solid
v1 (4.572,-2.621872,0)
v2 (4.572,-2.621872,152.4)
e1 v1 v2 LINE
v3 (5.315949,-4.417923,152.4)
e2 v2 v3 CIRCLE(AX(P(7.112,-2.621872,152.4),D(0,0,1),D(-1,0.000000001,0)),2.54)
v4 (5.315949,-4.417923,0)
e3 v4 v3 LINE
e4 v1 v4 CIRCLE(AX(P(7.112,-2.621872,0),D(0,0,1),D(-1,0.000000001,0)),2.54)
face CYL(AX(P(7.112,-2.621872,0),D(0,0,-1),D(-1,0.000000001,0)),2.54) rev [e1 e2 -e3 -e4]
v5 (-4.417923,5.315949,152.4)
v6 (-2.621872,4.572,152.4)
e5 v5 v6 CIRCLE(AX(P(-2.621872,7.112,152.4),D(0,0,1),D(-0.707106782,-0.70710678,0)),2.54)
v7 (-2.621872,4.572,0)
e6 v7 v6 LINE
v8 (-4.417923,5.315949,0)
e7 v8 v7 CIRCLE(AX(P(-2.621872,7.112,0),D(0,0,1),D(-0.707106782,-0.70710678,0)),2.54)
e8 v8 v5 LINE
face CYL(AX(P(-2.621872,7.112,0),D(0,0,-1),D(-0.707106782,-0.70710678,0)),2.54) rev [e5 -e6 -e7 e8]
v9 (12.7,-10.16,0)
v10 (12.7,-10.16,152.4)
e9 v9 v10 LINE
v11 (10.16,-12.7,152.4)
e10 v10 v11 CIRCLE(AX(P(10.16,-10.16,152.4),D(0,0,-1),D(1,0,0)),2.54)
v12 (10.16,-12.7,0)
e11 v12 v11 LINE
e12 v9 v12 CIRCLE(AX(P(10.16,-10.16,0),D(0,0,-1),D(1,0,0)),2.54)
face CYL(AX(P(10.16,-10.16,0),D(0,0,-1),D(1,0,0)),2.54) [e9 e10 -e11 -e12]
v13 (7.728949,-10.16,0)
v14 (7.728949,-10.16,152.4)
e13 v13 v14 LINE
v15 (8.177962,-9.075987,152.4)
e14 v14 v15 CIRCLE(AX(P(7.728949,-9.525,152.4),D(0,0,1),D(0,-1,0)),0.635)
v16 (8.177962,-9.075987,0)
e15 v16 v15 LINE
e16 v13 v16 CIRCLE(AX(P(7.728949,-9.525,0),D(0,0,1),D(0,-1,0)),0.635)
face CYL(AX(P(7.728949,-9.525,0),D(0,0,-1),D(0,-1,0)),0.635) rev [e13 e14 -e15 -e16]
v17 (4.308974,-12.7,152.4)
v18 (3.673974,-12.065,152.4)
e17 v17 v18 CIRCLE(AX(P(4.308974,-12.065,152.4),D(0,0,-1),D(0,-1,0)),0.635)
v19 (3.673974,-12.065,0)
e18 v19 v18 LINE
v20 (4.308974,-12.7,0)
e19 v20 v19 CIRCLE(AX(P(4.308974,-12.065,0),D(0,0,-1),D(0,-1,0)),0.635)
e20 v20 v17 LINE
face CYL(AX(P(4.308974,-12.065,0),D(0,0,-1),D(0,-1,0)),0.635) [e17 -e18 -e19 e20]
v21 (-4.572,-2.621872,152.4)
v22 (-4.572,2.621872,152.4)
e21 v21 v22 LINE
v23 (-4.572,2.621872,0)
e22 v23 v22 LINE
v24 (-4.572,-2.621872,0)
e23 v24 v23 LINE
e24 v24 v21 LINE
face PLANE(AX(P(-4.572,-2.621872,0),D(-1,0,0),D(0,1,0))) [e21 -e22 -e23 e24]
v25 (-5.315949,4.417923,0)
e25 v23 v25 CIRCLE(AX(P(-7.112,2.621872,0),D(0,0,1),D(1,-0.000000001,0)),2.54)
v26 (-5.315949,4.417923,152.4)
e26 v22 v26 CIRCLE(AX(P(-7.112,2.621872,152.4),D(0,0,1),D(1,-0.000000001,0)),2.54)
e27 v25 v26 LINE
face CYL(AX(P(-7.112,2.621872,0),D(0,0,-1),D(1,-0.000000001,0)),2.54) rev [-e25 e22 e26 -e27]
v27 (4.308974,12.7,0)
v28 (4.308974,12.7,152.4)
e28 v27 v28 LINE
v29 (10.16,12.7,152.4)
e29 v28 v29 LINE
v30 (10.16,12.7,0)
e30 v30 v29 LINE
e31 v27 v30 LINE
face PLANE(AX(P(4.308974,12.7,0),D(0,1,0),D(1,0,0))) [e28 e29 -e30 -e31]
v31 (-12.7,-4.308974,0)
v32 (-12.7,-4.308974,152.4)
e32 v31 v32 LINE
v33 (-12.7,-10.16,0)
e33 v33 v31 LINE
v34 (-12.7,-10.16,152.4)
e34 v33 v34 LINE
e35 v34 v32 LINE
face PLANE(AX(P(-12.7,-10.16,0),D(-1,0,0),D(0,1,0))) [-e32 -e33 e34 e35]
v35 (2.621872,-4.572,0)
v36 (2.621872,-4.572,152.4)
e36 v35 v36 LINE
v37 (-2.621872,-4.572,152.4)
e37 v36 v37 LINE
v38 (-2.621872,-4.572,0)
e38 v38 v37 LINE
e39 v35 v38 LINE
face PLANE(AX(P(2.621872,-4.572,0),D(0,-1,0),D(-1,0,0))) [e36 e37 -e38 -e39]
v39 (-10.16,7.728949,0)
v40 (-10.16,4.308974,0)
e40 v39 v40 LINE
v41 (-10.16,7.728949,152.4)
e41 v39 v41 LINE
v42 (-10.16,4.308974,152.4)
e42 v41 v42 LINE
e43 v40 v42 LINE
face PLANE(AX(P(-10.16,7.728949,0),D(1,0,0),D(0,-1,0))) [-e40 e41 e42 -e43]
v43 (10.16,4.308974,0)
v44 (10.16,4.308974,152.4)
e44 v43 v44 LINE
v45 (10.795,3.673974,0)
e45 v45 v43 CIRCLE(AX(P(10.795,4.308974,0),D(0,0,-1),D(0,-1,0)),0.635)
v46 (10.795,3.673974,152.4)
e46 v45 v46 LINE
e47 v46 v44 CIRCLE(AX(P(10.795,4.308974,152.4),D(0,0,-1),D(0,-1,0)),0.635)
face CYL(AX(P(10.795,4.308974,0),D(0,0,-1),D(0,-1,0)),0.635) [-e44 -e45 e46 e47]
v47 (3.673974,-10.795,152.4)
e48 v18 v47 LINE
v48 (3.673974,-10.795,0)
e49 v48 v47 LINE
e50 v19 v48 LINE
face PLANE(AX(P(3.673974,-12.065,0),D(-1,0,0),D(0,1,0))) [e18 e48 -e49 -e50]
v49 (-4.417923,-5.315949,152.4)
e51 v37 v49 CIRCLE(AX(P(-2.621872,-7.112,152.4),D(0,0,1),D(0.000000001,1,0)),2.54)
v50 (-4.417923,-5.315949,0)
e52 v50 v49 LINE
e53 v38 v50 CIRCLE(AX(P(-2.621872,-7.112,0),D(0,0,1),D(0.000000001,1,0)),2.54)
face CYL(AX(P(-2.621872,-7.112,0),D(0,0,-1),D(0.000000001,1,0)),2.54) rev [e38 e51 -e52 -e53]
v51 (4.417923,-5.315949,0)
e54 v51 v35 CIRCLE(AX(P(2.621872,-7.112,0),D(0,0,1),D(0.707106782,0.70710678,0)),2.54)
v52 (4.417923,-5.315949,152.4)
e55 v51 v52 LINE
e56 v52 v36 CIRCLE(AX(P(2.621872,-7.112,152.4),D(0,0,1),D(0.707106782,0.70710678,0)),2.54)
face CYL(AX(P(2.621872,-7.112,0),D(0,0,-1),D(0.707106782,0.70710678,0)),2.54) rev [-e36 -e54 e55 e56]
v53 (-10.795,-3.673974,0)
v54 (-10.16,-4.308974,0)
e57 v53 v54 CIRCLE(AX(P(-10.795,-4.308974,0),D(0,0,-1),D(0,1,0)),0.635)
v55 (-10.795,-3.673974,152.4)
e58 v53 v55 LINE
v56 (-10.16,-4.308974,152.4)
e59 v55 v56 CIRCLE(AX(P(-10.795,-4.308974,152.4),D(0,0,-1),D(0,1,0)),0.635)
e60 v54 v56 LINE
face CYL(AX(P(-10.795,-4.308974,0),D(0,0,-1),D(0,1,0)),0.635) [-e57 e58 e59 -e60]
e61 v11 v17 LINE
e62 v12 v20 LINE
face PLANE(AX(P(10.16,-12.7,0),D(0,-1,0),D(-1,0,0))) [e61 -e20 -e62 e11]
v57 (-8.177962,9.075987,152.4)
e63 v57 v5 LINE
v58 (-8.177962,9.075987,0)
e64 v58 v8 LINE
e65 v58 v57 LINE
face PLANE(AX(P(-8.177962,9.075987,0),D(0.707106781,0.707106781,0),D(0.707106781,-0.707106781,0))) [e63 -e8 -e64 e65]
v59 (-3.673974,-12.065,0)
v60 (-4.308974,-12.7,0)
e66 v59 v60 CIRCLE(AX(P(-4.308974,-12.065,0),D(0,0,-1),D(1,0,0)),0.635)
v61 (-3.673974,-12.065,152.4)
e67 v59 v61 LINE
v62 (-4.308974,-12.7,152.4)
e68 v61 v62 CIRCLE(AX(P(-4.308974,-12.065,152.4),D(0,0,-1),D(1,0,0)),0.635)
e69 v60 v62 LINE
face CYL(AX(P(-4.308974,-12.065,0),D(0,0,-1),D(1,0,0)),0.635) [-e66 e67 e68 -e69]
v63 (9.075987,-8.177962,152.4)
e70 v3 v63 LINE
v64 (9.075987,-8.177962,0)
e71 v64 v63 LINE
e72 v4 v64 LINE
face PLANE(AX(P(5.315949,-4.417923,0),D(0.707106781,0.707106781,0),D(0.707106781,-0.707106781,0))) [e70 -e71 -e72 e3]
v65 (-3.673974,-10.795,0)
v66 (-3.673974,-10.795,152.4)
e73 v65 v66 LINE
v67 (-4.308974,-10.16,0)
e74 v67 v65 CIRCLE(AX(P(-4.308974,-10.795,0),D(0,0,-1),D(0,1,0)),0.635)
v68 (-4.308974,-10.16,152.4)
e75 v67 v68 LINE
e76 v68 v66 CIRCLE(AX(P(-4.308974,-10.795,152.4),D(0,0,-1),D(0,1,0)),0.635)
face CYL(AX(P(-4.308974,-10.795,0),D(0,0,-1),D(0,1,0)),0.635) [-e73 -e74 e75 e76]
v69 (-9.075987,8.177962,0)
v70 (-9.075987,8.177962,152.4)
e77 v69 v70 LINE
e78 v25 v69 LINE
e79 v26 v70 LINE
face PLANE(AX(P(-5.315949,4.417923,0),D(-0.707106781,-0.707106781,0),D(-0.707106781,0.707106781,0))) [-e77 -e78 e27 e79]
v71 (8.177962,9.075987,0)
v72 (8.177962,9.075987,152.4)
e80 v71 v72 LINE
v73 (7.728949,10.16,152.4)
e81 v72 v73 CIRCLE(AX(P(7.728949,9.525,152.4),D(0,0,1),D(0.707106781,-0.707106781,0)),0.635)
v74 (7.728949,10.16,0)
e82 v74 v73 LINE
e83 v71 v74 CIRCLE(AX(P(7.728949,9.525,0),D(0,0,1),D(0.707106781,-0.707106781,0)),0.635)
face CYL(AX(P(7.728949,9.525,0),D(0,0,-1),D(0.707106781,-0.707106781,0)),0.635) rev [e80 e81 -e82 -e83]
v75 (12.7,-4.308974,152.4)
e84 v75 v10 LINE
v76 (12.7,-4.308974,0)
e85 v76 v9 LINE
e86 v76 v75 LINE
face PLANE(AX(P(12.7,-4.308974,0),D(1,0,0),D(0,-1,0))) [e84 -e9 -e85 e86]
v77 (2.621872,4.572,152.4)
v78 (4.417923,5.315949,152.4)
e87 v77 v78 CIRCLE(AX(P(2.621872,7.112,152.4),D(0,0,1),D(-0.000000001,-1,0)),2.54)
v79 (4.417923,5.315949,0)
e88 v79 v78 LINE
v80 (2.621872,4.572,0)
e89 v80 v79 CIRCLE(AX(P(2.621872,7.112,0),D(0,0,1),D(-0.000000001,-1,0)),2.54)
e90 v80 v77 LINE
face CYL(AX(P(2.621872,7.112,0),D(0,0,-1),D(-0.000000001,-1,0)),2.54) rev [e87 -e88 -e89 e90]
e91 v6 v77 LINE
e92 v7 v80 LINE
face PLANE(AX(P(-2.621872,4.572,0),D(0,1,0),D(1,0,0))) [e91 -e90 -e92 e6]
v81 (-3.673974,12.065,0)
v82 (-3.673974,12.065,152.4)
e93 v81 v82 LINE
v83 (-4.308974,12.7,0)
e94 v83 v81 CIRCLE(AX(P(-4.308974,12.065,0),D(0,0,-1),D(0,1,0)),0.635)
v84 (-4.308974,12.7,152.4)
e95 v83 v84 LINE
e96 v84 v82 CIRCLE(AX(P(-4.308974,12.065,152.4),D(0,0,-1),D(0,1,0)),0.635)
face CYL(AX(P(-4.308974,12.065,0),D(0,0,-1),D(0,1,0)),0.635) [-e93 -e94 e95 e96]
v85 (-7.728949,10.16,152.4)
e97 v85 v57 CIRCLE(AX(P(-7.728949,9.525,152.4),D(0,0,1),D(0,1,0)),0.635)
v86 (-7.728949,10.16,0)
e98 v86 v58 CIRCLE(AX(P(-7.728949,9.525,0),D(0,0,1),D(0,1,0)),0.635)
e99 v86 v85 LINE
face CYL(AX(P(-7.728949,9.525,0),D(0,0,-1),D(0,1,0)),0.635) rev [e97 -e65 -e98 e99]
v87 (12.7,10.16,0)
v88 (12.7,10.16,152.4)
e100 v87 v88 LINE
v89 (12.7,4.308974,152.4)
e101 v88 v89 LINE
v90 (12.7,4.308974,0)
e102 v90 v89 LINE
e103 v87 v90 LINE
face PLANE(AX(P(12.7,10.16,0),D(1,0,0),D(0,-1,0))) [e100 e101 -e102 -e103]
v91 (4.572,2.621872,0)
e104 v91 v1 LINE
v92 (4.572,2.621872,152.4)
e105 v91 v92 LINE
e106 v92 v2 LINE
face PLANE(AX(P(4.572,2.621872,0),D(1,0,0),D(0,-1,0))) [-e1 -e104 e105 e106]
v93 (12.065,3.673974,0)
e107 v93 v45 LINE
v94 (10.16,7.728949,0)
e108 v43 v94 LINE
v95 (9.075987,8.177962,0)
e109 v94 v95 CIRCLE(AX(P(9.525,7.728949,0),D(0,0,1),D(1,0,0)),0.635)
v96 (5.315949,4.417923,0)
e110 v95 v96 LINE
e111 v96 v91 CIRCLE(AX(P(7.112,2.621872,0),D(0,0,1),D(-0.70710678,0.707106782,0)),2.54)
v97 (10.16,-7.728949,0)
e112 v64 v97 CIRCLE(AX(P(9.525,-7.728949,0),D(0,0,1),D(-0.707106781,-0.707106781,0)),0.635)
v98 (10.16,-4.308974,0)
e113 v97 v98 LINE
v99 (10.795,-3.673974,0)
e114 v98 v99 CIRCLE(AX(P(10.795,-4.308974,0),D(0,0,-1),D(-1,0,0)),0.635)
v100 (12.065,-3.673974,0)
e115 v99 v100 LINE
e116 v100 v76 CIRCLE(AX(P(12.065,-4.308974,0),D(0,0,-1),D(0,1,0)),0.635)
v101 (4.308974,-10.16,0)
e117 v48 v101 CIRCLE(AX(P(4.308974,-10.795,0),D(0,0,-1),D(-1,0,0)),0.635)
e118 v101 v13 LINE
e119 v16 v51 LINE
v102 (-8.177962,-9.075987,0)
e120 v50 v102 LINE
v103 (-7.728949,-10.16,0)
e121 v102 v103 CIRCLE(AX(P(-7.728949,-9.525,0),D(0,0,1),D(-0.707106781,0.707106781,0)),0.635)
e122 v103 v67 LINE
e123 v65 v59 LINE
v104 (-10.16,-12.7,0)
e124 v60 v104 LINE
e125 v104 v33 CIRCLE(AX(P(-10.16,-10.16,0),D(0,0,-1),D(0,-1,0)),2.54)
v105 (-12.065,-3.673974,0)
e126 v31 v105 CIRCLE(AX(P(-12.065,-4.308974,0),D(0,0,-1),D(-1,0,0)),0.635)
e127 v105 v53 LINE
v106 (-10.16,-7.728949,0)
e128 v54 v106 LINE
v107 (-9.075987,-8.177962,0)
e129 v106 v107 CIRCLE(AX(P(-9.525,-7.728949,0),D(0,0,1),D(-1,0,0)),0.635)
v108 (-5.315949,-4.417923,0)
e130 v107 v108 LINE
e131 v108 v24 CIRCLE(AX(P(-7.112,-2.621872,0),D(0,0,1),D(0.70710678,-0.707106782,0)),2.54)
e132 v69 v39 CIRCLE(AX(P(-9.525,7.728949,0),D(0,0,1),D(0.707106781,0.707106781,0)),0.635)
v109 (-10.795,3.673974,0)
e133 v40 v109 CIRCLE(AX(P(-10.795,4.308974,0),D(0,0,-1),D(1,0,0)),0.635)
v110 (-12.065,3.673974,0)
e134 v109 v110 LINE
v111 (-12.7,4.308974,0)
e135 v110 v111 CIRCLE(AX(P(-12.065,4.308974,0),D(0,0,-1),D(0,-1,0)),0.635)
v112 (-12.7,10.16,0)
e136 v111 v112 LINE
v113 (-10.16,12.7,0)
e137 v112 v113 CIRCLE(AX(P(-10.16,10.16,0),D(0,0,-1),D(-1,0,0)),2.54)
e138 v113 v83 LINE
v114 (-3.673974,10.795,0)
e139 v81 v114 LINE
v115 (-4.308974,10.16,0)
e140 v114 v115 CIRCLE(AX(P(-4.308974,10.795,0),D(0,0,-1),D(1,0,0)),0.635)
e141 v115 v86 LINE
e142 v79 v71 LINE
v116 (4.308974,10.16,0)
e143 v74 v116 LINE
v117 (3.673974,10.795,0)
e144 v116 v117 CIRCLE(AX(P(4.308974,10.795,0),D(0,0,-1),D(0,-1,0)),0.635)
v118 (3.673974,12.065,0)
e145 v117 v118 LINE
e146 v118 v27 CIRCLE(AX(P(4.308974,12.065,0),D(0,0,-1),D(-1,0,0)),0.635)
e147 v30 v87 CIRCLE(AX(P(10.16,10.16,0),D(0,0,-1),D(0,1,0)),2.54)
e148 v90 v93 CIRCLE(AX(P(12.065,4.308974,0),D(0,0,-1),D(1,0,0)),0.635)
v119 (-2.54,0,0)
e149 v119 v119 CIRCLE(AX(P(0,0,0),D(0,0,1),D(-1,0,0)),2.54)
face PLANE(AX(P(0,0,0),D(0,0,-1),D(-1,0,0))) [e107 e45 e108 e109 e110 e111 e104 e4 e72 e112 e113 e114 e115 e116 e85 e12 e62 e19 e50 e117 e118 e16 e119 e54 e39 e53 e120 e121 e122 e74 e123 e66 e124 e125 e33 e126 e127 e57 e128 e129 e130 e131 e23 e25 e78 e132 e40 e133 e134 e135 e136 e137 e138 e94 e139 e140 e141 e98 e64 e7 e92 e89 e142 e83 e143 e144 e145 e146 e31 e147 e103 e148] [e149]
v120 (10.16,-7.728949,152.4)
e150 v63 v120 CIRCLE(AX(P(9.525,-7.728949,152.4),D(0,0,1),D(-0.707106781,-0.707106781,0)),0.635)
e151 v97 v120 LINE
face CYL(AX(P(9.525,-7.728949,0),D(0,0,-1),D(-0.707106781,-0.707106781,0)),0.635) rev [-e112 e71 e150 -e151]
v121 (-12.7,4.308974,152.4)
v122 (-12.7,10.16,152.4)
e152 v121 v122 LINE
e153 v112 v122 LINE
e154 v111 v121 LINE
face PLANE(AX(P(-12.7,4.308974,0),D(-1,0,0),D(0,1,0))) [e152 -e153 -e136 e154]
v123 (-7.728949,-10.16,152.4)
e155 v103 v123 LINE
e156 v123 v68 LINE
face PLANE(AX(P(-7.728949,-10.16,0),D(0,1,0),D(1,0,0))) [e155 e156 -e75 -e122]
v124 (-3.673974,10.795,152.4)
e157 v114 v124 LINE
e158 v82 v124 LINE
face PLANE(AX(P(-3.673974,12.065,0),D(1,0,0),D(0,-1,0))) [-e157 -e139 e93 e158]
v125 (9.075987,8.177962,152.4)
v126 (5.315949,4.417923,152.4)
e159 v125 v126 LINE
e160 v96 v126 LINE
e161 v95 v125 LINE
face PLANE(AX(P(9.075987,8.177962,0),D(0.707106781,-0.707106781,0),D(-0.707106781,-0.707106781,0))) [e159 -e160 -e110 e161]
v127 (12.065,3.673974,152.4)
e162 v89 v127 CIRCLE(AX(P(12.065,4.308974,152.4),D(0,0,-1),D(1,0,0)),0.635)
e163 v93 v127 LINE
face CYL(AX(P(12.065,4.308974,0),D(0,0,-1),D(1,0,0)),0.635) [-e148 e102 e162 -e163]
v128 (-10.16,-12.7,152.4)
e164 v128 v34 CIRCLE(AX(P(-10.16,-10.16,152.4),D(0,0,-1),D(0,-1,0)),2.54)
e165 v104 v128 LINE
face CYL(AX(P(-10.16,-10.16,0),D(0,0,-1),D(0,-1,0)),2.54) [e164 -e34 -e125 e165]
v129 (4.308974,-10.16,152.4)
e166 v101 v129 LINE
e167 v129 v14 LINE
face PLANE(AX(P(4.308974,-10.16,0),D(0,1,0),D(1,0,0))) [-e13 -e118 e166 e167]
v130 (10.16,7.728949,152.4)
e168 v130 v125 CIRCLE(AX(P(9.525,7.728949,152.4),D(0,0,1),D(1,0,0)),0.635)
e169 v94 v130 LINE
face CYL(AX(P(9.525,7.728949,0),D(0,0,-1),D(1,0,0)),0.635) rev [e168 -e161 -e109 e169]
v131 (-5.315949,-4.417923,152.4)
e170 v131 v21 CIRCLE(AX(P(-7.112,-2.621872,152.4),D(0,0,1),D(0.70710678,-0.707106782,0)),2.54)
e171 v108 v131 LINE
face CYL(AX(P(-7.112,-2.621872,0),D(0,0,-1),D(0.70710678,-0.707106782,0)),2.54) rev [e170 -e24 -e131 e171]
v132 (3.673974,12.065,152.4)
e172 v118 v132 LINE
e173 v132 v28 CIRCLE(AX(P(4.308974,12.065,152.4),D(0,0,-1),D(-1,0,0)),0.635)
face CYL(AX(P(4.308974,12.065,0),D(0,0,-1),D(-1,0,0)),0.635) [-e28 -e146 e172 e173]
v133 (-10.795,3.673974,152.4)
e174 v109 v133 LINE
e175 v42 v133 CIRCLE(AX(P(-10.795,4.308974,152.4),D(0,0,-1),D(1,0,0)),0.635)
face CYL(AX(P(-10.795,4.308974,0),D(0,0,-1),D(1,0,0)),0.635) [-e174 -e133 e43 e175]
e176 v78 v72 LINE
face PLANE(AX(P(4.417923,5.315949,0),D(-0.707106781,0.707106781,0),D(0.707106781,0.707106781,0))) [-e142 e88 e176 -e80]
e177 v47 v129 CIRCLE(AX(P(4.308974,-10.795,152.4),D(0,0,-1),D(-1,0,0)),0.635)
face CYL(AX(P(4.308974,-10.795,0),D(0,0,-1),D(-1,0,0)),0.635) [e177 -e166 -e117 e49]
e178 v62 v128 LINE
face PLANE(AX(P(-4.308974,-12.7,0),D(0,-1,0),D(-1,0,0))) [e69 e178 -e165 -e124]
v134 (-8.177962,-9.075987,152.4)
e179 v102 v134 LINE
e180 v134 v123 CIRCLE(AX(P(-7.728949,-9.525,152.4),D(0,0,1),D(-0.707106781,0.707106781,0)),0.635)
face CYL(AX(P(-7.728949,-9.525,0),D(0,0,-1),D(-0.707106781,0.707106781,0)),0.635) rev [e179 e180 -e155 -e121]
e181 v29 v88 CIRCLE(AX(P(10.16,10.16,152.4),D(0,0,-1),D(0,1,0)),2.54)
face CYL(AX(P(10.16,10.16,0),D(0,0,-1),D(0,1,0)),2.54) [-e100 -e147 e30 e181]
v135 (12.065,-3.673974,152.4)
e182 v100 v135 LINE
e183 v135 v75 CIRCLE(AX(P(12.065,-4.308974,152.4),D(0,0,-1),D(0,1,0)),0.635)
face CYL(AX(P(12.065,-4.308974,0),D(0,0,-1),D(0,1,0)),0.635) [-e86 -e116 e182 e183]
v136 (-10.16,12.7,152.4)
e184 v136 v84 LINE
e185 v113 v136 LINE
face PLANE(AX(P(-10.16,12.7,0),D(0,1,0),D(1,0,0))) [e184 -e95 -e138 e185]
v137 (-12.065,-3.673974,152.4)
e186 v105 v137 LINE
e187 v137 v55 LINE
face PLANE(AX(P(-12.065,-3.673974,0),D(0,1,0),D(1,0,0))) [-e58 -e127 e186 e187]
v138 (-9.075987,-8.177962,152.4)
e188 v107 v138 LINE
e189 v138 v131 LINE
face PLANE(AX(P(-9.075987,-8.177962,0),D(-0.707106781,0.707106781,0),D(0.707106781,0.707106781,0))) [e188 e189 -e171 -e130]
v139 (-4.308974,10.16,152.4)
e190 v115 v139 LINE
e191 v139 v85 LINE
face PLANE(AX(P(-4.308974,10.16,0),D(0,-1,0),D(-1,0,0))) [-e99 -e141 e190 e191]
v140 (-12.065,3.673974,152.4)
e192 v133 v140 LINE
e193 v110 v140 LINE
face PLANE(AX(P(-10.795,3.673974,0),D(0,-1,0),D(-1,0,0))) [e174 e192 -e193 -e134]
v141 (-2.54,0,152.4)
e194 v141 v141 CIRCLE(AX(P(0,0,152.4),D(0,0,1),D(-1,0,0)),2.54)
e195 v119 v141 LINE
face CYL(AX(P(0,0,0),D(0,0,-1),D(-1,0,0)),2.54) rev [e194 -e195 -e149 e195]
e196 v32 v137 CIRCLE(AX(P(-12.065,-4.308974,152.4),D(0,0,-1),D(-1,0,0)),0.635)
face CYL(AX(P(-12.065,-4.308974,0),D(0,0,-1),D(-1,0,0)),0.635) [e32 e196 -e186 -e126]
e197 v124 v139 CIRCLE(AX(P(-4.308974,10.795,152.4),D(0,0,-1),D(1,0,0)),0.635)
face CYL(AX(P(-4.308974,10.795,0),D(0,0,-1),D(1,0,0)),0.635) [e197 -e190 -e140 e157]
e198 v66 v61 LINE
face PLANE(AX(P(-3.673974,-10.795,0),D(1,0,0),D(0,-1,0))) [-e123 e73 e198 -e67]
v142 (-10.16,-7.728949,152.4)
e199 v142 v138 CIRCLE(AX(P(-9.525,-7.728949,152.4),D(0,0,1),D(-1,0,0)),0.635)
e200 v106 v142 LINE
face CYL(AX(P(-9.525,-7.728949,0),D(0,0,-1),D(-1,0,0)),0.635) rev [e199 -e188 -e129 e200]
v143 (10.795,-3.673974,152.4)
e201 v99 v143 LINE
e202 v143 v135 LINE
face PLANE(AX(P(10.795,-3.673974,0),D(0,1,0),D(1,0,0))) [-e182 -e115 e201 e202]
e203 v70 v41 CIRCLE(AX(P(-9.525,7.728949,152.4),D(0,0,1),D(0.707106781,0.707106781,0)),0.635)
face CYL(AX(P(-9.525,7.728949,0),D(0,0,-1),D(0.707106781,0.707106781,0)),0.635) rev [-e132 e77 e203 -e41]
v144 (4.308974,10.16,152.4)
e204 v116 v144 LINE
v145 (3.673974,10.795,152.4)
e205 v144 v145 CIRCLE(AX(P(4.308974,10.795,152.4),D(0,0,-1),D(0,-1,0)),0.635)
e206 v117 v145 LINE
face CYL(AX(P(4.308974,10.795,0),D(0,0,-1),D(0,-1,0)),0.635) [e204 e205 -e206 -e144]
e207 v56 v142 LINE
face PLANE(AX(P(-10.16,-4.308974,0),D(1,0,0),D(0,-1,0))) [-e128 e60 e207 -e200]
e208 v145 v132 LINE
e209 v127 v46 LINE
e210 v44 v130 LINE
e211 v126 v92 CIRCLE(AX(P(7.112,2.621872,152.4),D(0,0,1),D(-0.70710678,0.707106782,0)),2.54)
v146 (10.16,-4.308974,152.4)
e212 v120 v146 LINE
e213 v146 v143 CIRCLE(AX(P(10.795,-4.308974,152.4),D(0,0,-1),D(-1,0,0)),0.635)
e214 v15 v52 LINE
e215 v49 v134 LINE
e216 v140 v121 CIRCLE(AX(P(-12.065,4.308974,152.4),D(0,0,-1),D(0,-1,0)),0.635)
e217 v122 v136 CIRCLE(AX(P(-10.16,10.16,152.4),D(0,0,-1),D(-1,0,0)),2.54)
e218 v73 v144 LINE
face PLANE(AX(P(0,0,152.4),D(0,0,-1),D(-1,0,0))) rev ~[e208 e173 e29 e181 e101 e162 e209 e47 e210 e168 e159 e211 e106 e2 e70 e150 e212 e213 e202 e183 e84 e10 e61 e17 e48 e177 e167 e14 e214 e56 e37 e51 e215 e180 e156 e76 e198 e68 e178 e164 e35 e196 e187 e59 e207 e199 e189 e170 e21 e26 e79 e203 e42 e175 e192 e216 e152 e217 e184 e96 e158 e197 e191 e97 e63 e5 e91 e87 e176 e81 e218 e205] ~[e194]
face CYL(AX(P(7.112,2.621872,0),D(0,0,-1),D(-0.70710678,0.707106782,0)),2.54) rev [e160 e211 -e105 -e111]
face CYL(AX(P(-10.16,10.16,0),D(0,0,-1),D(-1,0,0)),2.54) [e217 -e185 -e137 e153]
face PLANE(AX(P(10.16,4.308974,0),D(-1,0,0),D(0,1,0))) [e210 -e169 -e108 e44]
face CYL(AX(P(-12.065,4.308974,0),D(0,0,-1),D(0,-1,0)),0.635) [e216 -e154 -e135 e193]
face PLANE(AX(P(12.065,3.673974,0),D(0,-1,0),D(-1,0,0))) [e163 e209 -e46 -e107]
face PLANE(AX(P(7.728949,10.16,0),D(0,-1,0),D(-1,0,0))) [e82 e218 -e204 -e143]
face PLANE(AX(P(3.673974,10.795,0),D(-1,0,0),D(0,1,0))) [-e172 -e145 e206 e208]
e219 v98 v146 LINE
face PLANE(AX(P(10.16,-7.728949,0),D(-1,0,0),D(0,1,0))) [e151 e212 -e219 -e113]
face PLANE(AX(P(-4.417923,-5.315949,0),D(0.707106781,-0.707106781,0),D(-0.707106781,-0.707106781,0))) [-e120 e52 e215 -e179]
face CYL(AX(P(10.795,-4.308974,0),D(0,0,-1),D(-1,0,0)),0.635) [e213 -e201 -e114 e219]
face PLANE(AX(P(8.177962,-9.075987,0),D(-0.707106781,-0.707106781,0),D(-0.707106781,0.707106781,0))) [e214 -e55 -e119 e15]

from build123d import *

# Parameters (mm, degrees)
SKETCH1_R           = 2.54
BOSS_EXTRUDE1_DEPTH = 152.4


with BuildPart() as part:
    # Sketch1 → Boss-Extrude1 (new body)
    with BuildSketch(Plane.XY):
        with BuildLine():
            Line((4.417923164, 5.315948776), (8.177961582, 9.075987194))
            ThreePointArc((8.177961582, 9.075987194), (8.315612279, 9.76800398), (7.728948776, 10.16))
            Line((7.728948776, 10.16), (4.308974388, 10.16))
            ThreePointArc((4.308974388, 10.16), (3.859961582, 10.345987194), (3.673974388, 10.795))
            Line((3.673974388, 10.795), (3.673974388, 12.065))
            ThreePointArc((3.673974388, 12.065), (3.859961582, 12.514012806), (4.308974388, 12.7))
            Line((4.308974388, 12.7), (10.16, 12.7))
            ThreePointArc((10.16, 12.7), (11.956051224, 11.956051224), (12.7, 10.16))
            Line((12.7, 10.16), (12.7, 4.308974388))
            ThreePointArc((12.7, 4.308974388), (12.514012806, 3.859961582), (12.065, 3.673974388))
            Line((12.065, 3.673974388), (10.795, 3.673974388))
            ThreePointArc((10.795, 3.673974388), (10.345987194, 3.859961582), (10.16, 4.308974388))
            Line((10.16, 4.308974388), (10.16, 7.728948776))
            ThreePointArc((10.16, 7.728948776), (9.76800398, 8.315612279), (9.075987194, 8.177961582))
            Line((9.075987194, 8.177961582), (5.315948776, 4.417923164))
            ThreePointArc((5.315948776, 4.417923164), (4.765345987, 3.593887858), (4.572, 2.621871939))
            Line((4.572, 2.621871939), (4.572, -2.621871939))
            ThreePointArc((4.572, -2.621871939), (4.765345987, -3.593887858), (5.315948776, -4.417923164))
            Line((5.315948776, -4.417923164), (9.075987194, -8.177961582))
            ThreePointArc((9.075987194, -8.177961582), (9.76800398, -8.315612279), (10.16, -7.728948776))
            Line((10.16, -7.728948776), (10.16, -4.308974388))
            ThreePointArc((10.16, -4.308974388), (10.345987194, -3.859961582), (10.795, -3.673974388))
            Line((10.795, -3.673974388), (12.065, -3.673974388))
            ThreePointArc((12.065, -3.673974388), (12.514012806, -3.859961582), (12.7, -4.308974388))
            Line((12.7, -4.308974388), (12.7, -10.16))
            ThreePointArc((12.7, -10.16), (11.956051224, -11.956051224), (10.16, -12.7))
            Line((10.16, -12.7), (4.308974388, -12.7))
            ThreePointArc((4.308974388, -12.7), (3.859961582, -12.514012806), (3.673974388, -12.065))
            Line((3.673974388, -12.065), (3.673974388, -10.795))
            ThreePointArc((3.673974388, -10.795), (3.859961582, -10.345987194), (4.308974388, -10.16))
            Line((4.308974388, -10.16), (7.728948776, -10.16))
            ThreePointArc((7.728948776, -10.16), (8.315612279, -9.76800398), (8.177961582, -9.075987194))
            Line((8.177961582, -9.075987194), (4.417923164, -5.315948776))
            ThreePointArc((4.417923164, -5.315948776), (3.593887858, -4.765345987), (2.621871939, -4.572))
            Line((2.621871939, -4.572), (-2.621871939, -4.572))
            ThreePointArc((-2.621871939, -4.572), (-3.593887858, -4.765345987), (-4.417923164, -5.315948776))
            Line((-4.417923164, -5.315948776), (-8.177961582, -9.075987194))
            ThreePointArc((-8.177961582, -9.075987194), (-8.315612279, -9.76800398), (-7.728948776, -10.16))
            Line((-7.728948776, -10.16), (-4.308974388, -10.16))
            ThreePointArc((-4.308974388, -10.16), (-3.859961582, -10.345987194), (-3.673974388, -10.795))
            Line((-3.673974388, -10.795), (-3.673974388, -12.065))
            ThreePointArc((-3.673974388, -12.065), (-3.859961582, -12.514012806), (-4.308974388, -12.7))
            Line((-4.308974388, -12.7), (-10.16, -12.7))
            ThreePointArc((-10.16, -12.7), (-11.956051224, -11.956051224), (-12.7, -10.16))
            Line((-12.7, -10.16), (-12.7, -4.308974388))
            ThreePointArc((-12.7, -4.308974388), (-12.514012806, -3.859961582), (-12.065, -3.673974388))
            Line((-12.065, -3.673974388), (-10.795, -3.673974388))
            ThreePointArc((-10.795, -3.673974388), (-10.345987194, -3.859961582), (-10.16, -4.308974388))
            Line((-10.16, -4.308974388), (-10.16, -7.728948776))
            ThreePointArc((-10.16, -7.728948776), (-9.76800398, -8.315612279), (-9.075987194, -8.177961582))
            Line((-9.075987194, -8.177961582), (-5.315948776, -4.417923164))
            ThreePointArc((-5.315948776, -4.417923164), (-4.765345987, -3.593887858), (-4.572, -2.621871939))
            Line((-4.572, -2.621871939), (-4.572, 2.621871939))
            ThreePointArc((-4.572, 2.621871939), (-4.765345987, 3.593887858), (-5.315948776, 4.417923164))
            Line((-5.315948776, 4.417923164), (-9.075987194, 8.177961582))
            ThreePointArc((-9.075987194, 8.177961582), (-9.76800398, 8.315612279), (-10.16, 7.728948776))
            Line((-10.16, 7.728948776), (-10.16, 4.308974388))
            ThreePointArc((-10.16, 4.308974388), (-10.345987194, 3.859961582), (-10.795, 3.673974388))
            Line((-10.795, 3.673974388), (-12.065, 3.673974388))
            ThreePointArc((-12.065, 3.673974388), (-12.514012806, 3.859961582), (-12.7, 4.308974388))
            Line((-12.7, 4.308974388), (-12.7, 10.16))
            ThreePointArc((-12.7, 10.16), (-11.956051224, 11.956051224), (-10.16, 12.7))
            Line((-10.16, 12.7), (-4.308974388, 12.7))
            ThreePointArc((-4.308974388, 12.7), (-3.859961582, 12.514012806), (-3.673974388, 12.065))
            Line((-3.673974388, 12.065), (-3.673974388, 10.795))
            ThreePointArc((-3.673974388, 10.795), (-3.859961582, 10.345987194), (-4.308974388, 10.16))
            Line((-4.308974388, 10.16), (-7.728948776, 10.16))
            ThreePointArc((-7.728948776, 10.16), (-8.315612279, 9.76800398), (-8.177961582, 9.075987194))
            Line((-8.177961582, 9.075987194), (-4.417923164, 5.315948776))
            ThreePointArc((-4.417923164, 5.315948776), (-3.593887858, 4.765345987), (-2.621871939, 4.572))
            Line((-2.621871939, 4.572), (2.621871939, 4.572))
            ThreePointArc((2.621871939, 4.572), (3.593887858, 4.765345987), (4.417923164, 5.315948776))
        make_face()
        with Locations(Location((0, 0, 0), (0, 0, 180))):
            Circle(SKETCH1_R, mode=Mode.SUBTRACT)
    extrude(amount=BOSS_EXTRUDE1_DEPTH)


solid = part.part
